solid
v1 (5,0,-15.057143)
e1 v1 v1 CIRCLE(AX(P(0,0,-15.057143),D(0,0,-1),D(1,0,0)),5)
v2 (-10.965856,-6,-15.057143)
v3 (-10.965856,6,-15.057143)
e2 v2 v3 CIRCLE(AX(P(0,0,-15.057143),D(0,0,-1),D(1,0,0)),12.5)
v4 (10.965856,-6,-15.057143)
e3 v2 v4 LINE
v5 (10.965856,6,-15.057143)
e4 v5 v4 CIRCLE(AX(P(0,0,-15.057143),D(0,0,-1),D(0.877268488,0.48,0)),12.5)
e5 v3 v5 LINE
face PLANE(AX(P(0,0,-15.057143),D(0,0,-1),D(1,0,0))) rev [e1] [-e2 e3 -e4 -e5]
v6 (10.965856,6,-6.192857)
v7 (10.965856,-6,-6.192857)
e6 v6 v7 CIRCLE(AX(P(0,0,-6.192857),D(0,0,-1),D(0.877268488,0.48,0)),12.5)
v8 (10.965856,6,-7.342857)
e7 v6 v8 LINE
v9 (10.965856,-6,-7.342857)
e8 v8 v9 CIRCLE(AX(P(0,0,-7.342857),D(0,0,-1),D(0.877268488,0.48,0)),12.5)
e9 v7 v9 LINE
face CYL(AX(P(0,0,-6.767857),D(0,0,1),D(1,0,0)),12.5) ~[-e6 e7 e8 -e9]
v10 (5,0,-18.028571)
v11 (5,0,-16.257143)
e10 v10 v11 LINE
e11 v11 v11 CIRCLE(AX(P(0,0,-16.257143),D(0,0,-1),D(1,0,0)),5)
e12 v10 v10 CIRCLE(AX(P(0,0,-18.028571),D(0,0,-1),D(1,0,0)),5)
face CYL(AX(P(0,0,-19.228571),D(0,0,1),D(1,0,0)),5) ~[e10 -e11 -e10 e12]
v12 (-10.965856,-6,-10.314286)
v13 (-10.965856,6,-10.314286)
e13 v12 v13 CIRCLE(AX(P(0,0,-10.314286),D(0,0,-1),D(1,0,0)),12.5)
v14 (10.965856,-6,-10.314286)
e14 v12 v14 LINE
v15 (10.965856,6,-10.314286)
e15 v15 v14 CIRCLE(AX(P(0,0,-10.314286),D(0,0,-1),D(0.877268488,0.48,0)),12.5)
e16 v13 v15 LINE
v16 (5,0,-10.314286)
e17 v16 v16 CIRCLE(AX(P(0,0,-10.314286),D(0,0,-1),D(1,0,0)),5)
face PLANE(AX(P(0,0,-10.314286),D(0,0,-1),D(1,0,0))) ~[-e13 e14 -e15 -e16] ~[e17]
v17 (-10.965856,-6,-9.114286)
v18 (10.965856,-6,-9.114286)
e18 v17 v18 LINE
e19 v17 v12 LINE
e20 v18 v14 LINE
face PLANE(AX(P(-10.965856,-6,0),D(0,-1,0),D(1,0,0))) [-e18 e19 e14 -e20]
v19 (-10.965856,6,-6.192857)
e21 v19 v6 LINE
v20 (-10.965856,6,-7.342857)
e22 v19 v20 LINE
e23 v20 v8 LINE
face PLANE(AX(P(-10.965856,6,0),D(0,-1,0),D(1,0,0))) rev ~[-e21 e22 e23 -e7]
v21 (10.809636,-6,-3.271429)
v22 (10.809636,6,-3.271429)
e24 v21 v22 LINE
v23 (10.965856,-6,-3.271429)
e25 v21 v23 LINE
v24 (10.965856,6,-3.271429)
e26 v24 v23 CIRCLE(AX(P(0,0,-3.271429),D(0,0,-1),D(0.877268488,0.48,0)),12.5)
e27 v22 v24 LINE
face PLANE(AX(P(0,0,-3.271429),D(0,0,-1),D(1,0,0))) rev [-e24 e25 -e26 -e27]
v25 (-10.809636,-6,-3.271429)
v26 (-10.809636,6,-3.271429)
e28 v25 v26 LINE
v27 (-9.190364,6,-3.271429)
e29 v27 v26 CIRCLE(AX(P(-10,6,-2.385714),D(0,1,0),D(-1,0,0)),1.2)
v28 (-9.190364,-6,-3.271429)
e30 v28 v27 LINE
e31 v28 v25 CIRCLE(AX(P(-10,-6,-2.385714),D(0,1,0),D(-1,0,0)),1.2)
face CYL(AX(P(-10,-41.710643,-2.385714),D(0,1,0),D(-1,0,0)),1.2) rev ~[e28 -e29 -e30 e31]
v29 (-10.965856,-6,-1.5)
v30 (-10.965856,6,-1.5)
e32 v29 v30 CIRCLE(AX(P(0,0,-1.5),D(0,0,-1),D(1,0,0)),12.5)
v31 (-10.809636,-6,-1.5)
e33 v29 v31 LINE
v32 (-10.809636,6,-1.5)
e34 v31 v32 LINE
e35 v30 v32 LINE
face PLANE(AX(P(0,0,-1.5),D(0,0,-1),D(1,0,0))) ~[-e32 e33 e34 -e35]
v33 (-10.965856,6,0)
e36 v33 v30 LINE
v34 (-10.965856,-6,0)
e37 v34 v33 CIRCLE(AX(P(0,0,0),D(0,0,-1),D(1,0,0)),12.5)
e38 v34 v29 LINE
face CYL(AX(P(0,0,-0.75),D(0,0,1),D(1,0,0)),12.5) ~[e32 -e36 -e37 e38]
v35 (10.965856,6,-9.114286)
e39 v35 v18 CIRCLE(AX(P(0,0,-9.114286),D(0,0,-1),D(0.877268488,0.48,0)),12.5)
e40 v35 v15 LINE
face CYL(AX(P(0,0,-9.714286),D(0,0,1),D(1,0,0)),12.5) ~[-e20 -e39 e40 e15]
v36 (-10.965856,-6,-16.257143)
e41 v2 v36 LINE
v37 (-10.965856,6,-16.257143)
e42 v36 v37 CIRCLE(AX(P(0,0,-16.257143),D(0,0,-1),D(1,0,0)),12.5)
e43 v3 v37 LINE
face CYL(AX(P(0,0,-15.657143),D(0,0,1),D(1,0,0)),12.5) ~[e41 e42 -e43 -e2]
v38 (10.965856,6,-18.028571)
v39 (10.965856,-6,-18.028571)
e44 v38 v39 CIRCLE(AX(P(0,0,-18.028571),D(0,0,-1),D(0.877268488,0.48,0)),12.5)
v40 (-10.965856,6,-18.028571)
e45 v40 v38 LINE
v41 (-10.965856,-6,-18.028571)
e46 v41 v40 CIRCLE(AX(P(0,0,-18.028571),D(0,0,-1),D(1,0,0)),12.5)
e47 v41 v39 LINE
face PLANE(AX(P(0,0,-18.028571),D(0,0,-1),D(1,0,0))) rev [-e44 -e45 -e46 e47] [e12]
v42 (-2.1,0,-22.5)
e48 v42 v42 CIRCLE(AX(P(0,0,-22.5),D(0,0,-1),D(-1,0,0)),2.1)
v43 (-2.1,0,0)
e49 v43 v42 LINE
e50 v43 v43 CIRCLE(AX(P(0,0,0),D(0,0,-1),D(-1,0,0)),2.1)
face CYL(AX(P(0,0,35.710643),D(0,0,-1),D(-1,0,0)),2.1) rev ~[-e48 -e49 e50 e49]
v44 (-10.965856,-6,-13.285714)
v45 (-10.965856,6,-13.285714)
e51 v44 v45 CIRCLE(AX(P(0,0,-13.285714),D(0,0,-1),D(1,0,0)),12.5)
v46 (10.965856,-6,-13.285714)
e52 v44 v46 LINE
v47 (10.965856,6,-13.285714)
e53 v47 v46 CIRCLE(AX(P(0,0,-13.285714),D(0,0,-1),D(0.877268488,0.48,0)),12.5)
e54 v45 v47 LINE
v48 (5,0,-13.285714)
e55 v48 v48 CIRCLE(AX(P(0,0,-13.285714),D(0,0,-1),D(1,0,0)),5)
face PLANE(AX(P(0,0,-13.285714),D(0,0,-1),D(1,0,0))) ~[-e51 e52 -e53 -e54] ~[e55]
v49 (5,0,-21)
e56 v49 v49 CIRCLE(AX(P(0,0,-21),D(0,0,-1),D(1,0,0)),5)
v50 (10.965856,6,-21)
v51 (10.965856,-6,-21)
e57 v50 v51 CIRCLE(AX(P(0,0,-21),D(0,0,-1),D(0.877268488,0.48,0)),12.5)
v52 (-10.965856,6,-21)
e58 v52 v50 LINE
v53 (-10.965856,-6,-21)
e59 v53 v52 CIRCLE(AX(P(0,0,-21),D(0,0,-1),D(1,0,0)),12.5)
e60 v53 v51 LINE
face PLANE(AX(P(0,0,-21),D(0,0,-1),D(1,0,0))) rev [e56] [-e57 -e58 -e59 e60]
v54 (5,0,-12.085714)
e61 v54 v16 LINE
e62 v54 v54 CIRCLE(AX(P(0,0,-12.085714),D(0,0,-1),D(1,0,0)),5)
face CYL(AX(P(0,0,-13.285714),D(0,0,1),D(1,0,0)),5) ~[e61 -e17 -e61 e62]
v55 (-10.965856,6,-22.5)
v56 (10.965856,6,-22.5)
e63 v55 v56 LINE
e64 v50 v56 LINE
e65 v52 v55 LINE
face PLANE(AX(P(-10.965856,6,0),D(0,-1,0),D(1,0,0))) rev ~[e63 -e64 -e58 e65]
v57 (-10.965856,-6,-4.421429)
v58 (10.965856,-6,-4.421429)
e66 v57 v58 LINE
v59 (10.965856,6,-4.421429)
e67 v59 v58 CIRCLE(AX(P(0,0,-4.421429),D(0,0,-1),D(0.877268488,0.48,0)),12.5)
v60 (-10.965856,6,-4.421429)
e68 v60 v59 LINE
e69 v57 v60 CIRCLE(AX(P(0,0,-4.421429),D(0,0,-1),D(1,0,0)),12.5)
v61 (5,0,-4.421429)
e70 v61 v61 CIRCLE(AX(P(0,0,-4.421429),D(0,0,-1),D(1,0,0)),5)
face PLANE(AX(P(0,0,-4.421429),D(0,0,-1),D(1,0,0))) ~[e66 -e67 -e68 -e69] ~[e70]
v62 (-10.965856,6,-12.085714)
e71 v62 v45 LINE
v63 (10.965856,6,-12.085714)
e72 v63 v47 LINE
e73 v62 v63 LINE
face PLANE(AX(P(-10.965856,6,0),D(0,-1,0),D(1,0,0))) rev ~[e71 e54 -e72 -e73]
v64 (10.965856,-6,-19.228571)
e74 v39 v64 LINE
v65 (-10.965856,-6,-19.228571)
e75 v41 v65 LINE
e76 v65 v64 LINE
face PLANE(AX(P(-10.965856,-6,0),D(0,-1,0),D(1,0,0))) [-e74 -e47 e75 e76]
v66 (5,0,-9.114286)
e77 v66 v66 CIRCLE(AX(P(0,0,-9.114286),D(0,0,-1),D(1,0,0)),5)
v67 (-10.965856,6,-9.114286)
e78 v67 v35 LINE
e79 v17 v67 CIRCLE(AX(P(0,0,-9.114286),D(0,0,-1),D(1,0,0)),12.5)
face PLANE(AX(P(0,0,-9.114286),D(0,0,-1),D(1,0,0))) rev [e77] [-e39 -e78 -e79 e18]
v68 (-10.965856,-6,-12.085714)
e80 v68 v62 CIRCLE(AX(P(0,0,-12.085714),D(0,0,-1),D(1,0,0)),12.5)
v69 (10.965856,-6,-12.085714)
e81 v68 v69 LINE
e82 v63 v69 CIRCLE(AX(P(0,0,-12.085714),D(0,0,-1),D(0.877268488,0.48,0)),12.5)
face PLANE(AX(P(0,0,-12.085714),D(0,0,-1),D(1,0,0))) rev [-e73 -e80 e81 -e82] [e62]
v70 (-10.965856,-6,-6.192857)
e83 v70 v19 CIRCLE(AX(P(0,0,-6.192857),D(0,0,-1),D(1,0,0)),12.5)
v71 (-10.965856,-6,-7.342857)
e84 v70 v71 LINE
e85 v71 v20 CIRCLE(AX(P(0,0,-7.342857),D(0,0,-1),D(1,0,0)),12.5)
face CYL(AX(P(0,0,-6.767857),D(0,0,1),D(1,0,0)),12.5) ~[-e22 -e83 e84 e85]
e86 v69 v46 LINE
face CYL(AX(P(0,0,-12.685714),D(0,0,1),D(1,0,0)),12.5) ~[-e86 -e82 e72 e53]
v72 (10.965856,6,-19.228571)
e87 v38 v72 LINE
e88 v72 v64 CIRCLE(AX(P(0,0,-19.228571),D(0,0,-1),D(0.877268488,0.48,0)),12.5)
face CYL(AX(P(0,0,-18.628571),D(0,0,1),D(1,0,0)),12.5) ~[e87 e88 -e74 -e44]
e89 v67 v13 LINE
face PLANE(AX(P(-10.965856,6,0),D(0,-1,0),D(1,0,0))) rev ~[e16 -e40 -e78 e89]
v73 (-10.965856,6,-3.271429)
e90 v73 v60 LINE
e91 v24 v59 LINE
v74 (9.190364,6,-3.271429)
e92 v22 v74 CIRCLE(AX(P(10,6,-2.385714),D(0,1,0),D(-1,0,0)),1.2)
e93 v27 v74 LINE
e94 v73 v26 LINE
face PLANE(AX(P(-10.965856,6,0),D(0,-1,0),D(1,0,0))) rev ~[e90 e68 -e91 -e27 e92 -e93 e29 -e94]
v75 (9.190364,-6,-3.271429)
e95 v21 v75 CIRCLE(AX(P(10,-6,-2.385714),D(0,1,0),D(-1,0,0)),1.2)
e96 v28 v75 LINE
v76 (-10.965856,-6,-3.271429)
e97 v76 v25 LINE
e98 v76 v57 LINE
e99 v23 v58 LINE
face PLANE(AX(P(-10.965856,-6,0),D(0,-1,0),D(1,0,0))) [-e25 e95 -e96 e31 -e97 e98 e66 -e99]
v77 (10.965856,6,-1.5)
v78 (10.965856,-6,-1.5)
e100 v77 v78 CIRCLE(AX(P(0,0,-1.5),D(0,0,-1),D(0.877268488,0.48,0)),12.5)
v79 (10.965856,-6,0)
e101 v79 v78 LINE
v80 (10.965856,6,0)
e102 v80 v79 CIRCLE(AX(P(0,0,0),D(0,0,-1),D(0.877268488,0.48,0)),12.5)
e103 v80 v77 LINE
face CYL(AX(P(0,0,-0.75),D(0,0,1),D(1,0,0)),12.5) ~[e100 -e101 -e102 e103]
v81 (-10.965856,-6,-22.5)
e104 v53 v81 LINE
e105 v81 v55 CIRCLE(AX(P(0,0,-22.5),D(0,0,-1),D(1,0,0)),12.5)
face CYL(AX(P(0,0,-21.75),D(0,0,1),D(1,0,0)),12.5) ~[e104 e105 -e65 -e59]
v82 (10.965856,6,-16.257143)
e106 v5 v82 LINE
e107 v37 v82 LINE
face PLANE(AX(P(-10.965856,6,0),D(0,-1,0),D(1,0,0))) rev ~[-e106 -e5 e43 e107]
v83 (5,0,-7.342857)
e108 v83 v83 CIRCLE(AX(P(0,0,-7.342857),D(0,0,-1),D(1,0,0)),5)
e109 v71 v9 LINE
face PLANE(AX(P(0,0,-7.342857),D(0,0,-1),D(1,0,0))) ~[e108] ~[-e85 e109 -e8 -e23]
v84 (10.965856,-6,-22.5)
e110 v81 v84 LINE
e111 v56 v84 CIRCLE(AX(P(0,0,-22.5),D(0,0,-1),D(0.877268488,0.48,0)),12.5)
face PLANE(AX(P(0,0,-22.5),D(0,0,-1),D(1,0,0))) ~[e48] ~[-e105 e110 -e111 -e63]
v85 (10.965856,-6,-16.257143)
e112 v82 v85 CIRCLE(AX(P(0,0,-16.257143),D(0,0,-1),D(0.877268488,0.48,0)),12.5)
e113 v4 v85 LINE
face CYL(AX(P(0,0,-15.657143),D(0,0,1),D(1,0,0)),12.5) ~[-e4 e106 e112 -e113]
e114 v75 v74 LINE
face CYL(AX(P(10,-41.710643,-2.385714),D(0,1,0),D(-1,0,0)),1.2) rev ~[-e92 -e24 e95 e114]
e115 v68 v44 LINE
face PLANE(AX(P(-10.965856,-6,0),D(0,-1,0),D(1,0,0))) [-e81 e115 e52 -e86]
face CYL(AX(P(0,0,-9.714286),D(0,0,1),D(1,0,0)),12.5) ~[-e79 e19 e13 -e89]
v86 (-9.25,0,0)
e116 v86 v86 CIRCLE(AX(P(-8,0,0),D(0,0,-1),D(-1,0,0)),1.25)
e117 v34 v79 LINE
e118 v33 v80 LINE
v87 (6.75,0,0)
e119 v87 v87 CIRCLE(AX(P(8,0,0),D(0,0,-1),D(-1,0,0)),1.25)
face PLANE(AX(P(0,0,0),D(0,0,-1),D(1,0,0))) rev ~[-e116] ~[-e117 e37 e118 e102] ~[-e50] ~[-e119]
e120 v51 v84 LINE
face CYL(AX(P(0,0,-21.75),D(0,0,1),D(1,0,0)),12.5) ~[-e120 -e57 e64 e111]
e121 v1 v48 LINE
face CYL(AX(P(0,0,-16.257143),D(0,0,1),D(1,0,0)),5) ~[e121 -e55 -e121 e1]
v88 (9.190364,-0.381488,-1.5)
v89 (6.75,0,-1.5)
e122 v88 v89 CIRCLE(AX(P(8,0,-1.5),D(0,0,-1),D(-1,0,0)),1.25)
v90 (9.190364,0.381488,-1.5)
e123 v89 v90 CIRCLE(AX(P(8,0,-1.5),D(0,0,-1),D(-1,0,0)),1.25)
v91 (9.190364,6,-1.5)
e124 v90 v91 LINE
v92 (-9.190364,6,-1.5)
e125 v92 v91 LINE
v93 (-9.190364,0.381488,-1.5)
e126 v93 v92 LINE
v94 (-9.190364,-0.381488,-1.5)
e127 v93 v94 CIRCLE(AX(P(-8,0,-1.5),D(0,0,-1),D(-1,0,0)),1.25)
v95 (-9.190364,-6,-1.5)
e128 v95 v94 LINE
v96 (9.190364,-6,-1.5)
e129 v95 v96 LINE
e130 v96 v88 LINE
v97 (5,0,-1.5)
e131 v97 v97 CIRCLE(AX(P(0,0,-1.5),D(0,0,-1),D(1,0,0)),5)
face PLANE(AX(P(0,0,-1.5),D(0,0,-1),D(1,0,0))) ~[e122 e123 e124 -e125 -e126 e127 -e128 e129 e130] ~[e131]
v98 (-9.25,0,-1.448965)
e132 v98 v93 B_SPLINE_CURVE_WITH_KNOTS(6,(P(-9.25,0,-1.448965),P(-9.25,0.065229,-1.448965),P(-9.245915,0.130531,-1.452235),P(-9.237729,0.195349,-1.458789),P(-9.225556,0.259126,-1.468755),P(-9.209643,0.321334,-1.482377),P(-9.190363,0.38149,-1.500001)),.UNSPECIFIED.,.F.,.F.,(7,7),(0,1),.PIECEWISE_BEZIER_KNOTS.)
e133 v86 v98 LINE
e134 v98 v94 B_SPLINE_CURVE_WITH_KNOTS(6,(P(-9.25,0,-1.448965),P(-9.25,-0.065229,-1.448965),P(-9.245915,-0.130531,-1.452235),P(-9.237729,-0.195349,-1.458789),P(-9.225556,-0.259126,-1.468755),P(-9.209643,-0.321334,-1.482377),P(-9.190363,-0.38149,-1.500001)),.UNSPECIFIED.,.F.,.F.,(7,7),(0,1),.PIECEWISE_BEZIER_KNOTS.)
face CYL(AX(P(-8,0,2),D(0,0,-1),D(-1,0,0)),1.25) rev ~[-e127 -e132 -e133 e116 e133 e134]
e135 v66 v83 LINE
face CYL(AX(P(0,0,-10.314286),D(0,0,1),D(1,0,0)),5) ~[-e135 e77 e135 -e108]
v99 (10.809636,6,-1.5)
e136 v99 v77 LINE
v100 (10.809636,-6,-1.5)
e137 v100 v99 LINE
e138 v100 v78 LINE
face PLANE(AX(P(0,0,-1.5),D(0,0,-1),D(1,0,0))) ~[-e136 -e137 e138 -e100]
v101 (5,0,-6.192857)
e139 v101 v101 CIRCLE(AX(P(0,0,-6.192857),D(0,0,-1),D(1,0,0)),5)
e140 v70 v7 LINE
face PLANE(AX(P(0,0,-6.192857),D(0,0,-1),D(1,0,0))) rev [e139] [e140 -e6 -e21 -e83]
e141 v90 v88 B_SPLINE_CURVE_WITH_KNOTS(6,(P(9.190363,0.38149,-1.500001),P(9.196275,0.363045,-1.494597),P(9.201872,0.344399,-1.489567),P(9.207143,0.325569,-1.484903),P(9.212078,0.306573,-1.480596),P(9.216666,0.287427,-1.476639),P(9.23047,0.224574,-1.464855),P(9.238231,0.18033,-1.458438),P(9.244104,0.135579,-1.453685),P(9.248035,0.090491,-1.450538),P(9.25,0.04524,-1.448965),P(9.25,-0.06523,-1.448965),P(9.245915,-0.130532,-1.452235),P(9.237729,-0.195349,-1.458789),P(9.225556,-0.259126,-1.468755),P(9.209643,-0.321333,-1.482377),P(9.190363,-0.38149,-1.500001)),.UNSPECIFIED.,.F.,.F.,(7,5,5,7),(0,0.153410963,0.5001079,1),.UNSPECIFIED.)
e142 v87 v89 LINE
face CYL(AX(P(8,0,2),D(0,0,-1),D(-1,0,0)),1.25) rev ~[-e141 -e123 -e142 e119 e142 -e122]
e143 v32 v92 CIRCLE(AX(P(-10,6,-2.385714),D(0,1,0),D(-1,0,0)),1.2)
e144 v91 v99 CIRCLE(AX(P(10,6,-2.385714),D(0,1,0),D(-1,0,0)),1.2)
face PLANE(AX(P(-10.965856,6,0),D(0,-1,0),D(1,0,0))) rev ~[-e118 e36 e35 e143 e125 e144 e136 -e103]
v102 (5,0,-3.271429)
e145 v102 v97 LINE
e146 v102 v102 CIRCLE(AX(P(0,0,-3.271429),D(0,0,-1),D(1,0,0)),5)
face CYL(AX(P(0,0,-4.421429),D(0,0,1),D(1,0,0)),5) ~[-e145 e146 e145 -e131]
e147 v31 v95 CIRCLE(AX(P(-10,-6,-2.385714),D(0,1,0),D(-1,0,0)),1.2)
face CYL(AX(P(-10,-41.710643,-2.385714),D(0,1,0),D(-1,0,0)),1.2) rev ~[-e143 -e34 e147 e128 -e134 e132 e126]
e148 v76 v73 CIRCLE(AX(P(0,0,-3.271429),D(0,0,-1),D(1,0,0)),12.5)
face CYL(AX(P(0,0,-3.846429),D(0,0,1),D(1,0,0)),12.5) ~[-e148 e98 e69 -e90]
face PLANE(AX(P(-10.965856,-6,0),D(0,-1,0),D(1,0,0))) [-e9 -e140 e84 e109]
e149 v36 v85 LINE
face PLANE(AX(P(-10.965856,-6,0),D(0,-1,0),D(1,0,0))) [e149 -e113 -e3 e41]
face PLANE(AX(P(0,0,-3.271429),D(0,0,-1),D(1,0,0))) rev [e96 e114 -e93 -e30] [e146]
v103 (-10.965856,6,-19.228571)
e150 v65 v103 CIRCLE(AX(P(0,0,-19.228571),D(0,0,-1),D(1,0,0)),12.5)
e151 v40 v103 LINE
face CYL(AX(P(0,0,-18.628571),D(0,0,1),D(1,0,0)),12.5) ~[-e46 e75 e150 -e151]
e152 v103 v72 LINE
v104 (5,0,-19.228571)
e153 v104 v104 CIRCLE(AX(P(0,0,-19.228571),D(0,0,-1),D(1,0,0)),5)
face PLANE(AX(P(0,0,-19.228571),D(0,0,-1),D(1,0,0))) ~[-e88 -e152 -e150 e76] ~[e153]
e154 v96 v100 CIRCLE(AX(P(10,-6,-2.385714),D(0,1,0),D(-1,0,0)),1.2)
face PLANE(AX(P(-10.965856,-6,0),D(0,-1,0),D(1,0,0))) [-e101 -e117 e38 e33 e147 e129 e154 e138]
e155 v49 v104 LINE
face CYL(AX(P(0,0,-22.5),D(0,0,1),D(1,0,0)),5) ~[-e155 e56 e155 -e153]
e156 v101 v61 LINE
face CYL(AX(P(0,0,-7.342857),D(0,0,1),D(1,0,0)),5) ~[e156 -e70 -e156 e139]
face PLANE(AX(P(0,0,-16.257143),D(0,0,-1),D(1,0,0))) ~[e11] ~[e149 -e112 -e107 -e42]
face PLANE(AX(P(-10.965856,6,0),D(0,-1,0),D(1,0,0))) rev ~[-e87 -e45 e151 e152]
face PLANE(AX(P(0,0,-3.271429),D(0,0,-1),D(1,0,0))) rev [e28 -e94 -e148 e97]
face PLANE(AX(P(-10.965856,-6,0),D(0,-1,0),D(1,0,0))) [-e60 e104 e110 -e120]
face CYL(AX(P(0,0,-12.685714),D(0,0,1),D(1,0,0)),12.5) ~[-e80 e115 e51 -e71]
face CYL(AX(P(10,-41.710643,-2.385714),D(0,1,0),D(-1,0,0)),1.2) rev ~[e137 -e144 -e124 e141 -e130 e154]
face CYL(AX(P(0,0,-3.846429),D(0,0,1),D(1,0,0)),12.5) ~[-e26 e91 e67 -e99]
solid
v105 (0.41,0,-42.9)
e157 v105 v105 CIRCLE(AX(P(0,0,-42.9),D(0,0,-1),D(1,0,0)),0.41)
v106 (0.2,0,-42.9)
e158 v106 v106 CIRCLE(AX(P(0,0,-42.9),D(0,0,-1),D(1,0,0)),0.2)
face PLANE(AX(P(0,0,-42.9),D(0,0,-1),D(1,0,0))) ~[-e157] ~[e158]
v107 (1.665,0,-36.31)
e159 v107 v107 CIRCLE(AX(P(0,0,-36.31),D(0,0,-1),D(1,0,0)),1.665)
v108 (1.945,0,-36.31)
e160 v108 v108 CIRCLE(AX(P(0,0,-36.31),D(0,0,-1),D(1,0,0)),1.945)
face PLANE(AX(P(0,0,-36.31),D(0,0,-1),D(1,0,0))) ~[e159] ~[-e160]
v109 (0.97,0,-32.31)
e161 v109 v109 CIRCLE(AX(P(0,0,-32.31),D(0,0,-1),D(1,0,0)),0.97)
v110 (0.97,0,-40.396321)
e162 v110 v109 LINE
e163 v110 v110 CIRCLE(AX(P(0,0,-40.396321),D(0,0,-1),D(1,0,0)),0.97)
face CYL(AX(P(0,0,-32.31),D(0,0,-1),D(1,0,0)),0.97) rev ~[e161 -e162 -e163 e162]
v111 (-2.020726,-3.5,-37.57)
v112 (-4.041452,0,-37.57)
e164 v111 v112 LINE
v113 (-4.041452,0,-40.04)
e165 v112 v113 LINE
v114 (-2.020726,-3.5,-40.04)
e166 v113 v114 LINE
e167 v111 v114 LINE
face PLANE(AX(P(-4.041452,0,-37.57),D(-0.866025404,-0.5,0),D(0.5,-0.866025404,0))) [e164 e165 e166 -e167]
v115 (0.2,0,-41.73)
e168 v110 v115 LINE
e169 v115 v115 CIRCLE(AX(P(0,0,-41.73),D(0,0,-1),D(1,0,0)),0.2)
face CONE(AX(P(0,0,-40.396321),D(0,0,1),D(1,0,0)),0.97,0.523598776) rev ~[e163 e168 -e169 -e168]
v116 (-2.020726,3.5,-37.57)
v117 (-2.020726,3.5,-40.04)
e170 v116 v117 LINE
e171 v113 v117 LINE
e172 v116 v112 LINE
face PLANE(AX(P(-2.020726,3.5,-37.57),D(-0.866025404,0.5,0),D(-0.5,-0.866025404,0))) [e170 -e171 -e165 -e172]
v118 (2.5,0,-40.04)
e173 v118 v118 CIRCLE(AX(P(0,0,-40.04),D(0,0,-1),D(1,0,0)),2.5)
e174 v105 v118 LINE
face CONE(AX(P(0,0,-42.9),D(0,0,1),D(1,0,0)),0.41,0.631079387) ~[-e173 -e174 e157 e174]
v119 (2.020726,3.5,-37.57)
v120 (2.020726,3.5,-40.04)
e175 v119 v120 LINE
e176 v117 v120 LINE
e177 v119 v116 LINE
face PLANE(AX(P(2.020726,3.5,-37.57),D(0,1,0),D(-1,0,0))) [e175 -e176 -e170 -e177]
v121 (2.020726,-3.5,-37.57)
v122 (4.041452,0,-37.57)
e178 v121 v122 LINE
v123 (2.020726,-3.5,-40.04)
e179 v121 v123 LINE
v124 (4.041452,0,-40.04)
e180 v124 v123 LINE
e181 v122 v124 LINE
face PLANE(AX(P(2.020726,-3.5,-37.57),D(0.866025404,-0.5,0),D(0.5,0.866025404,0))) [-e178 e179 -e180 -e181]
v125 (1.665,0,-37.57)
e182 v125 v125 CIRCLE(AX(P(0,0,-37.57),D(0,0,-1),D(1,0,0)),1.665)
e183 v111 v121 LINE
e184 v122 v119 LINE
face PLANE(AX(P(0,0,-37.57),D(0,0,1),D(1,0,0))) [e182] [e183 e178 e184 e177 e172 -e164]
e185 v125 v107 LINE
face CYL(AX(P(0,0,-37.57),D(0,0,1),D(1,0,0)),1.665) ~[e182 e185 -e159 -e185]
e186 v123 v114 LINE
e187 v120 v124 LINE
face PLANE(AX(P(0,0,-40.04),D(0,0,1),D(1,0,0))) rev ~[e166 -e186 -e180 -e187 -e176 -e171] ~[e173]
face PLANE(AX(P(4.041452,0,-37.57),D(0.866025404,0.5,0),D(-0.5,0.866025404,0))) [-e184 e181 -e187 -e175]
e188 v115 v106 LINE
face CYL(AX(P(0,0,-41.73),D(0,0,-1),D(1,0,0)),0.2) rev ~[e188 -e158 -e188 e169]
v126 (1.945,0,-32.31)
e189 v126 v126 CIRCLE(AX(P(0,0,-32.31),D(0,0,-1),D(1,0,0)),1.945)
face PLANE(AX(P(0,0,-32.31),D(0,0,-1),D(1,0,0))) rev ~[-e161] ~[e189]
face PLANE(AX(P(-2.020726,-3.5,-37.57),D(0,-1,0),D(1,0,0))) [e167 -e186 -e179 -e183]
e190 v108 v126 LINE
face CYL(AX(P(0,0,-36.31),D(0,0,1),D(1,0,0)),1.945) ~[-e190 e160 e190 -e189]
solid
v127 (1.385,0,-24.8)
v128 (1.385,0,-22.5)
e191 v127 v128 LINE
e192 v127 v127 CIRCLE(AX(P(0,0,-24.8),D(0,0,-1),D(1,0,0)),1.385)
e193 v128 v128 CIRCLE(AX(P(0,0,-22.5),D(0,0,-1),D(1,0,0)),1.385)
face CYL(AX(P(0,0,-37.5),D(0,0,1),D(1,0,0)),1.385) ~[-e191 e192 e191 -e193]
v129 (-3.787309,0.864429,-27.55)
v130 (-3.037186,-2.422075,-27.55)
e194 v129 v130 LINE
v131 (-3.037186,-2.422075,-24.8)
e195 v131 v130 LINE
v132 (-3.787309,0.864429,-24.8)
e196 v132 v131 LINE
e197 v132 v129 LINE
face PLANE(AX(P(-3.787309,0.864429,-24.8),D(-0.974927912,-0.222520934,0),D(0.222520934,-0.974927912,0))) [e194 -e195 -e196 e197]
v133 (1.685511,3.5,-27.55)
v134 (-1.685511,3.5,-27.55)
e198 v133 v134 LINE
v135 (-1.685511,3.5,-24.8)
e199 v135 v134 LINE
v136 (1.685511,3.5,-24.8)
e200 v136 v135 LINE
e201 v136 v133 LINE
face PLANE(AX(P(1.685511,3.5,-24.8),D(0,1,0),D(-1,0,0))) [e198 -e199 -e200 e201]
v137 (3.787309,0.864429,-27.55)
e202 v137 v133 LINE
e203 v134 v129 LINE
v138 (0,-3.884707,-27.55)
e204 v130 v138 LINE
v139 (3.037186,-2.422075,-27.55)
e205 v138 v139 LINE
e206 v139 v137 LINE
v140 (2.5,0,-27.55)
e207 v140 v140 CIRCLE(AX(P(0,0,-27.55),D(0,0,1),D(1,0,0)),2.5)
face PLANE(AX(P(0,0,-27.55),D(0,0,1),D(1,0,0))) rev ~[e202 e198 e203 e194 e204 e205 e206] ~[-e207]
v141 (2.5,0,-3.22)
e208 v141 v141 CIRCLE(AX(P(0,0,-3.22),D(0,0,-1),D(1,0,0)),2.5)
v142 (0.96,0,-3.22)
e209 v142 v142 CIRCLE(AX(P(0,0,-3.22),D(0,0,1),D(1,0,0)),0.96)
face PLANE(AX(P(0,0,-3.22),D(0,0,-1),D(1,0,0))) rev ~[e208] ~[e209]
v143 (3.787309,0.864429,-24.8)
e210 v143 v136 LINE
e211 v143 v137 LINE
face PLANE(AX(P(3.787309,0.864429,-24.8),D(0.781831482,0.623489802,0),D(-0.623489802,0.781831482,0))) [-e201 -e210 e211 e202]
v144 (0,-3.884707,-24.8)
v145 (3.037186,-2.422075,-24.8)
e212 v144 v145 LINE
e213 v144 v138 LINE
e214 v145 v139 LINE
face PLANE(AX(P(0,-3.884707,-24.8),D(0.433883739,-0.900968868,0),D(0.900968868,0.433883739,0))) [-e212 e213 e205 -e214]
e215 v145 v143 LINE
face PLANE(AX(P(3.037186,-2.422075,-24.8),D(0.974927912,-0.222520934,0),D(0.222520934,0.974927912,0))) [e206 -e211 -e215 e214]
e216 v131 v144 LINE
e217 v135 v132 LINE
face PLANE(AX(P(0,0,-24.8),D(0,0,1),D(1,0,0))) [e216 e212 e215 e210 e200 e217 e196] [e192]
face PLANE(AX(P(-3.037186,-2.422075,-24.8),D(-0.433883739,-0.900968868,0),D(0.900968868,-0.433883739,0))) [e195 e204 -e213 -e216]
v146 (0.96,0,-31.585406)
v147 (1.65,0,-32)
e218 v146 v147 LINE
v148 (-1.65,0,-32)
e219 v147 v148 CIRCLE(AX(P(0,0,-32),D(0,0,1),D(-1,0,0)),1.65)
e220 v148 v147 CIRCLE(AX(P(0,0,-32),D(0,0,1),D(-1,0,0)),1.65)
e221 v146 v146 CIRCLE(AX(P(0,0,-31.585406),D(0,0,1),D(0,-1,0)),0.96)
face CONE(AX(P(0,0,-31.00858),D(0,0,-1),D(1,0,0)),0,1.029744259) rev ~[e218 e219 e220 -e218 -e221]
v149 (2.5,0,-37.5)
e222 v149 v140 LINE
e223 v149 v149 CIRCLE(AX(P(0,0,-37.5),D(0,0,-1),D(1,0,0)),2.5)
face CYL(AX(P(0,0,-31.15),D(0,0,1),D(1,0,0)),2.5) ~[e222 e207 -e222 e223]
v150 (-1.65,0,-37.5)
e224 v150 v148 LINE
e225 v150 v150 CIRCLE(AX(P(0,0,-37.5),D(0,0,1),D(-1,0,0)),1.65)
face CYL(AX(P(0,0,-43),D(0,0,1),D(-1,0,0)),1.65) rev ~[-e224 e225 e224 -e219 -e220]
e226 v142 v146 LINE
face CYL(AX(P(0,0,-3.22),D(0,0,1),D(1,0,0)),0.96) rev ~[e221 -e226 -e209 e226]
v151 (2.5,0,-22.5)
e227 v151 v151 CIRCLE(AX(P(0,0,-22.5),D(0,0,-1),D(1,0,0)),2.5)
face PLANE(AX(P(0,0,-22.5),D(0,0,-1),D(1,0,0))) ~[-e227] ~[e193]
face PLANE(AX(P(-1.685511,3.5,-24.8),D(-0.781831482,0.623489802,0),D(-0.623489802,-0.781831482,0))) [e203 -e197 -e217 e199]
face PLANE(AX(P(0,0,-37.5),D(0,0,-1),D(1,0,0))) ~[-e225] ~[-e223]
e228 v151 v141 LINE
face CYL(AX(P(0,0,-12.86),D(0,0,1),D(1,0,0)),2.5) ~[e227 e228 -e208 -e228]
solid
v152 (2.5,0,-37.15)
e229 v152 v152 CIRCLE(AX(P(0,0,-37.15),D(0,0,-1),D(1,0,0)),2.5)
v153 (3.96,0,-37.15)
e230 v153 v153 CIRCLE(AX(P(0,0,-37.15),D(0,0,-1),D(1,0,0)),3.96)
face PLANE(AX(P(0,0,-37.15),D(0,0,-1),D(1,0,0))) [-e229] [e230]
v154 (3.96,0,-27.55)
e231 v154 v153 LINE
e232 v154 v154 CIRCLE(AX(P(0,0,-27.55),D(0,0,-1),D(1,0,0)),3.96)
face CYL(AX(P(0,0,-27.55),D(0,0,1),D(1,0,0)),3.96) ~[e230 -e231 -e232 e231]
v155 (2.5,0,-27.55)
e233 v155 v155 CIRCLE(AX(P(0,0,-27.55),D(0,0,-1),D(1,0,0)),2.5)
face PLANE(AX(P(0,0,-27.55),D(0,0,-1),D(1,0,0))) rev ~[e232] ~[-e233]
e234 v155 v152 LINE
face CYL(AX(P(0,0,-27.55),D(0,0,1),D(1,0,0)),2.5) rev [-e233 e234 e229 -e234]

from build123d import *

# Parameters (mm, degrees)
F0_W      = 5
F0_H      = 1.5
F0_W_2    = 7.5
F0_H_2    = 1.7714285714
F0_H_3    = 1.15
F0_H_4    = 1.2
F2_W      = 21.9317121995
F2_H      = 6.5
F3_DEPTH  = 22.501
F5_D      = 4.2
F6_D      = 2.5
F6_DEPTH  = 2
F6_TIP    = 0.7510757738
F7_W      = 1.385
F7_H      = 19.28
F7_W_2    = 1.115
F7_H_2    = 2.3
F7_H_3    = 12.7
F10_DEPTH = 2.75
F12_D     = 3.3
F12_DEPTH = 5.5
F12_TIP   = 0.9914200214
F13_R     = 0.96
F14_DEPTH = 34.281
F15_R     = 3.96
F15_R_2   = 2.5
F16_DEPTH = 9.6
F19_R     = 0.97
F20_DEPTH = 2.47
F24_R     = 2.7289614246
F25_DEPTH = 4.22
F27_D     = 2.4


with BuildPart() as f1:
    # F0 (on Front) → F1 (revolve)
    with BuildSketch(Plane.XZ):
        with Locations((2.5, -0.75)):
            Rectangle(F0_W, F0_H)
        with Locations((8.75, -0.75)):
            Rectangle(F0_W_2, F0_H)
        with Locations((2.5, -2.3857142857)):
            Rectangle(F0_W, F0_H_2)
        with Locations((2.5, -3.8464285714)):
            Rectangle(F0_W, F0_H_3)
        with Locations((8.75, -3.8464285714)):
            Rectangle(F0_W_2, F0_H_3)
        with Locations((2.5, -5.3071428571)):
            Rectangle(F0_W, F0_H_2)
        with Locations((2.5, -6.7678571429)):
            Rectangle(F0_W, F0_H_3)
        with Locations((8.75, -6.7678571429)):
            Rectangle(F0_W_2, F0_H_3)
        with Locations((2.5, -8.2285714286)):
            Rectangle(F0_W, F0_H_2)
        with Locations((2.5, -9.7142857143)):
            Rectangle(F0_W, F0_H_4)
        with Locations((8.75, -9.7142857143)):
            Rectangle(F0_W_2, F0_H_4)
        with Locations((2.5, -11.2)):
            Rectangle(F0_W, F0_H_2)
        with Locations((2.5, -12.6857142857)):
            Rectangle(F0_W, F0_H_4)
        with Locations((8.75, -12.6857142857)):
            Rectangle(F0_W_2, F0_H_4)
        with Locations((2.5, -14.1714285714)):
            Rectangle(F0_W, F0_H_2)
        with Locations((2.5, -15.6571428571)):
            Rectangle(F0_W, F0_H_4)
        with Locations((8.75, -15.6571428571)):
            Rectangle(F0_W_2, F0_H_4)
        with Locations((2.5, -17.1428571429)):
            Rectangle(F0_W, F0_H_2)
        with Locations((2.5, -18.6285714286)):
            Rectangle(F0_W, F0_H_4)
        with Locations((8.75, -18.6285714286)):
            Rectangle(F0_W_2, F0_H_4)
        with Locations((2.5, -20.1142857143)):
            Rectangle(F0_W, F0_H_2)
        with Locations((2.5, -21.75)):
            Rectangle(F0_W, F0_H)
        with Locations((8.75, -21.75)):
            Rectangle(F0_W_2, F0_H)
    revolve(axis=Axis((0, 0, -15.0359268821), (0, 0, -1)))

    # F2 (on Top) → F3 (cut, through all)
    with BuildSketch(Plane.XY):
        with Locations((0, -9.25)):
            Rectangle(F2_W, F2_H)
        with Locations((0, 9.25)):
            Rectangle(F2_W, F2_H)
    extrude(amount=-F3_DEPTH, mode=Mode.SUBTRACT)

    # F5 (through all)
    with Locations(Plane.XY):
        with Locations((0, 0)):
            Hole(F5_D / 2)

    # F6
    with Locations(Plane.XY):
        with Locations((-8, 0), (8, 0)):
            Hole(F6_D / 2, depth=F6_DEPTH)
            with Locations((0, 0, -(F6_DEPTH + F6_TIP / 2))):  # 118° drill point
                Cone(0, F6_D / 2, F6_TIP, mode=Mode.SUBTRACT)

    # F27 (through all)
    with Locations(Plane.XZ.offset(6)):
        with Locations((-10, -2.3857142857), (10, -2.3857142857)):
            Hole(F27_D / 2)


with BuildPart() as f8:
    # F7 (on Front) → F8 (revolve)
    with BuildSketch(Plane.XZ):
        with Locations((0.6925, -12.86)):
            Rectangle(F7_W, F7_H)
        with Locations((1.9425, -12.86)):
            Rectangle(F7_W_2, F7_H)
        with Locations((0.6925, -23.65)):
            Rectangle(F7_W, F7_H_2)
        with Locations((0.6925, -31.15)):
            Rectangle(F7_W, F7_H_3)
        with Locations((1.9425, -31.15)):
            Rectangle(F7_W_2, F7_H_3)
    revolve(axis=Axis((0, 0, -14.0211293474), (0, 0, -1)))

    # F9 (on face) → F10 (join)
    with BuildSketch(Plane.XY.offset(-24.8)):
        Polygon((3.7873092114, 0.864428613), (1.6855111658, 3.5), (-1.6855111658, 3.5), (-3.7873092114, 0.864428613), (-3.0371861738, -2.4220751507), (0, -3.8847069246), (3.0371861738, -2.4220751507), align=None)
    extrude(amount=-F10_DEPTH)

    # F12
    with Locations(Plane(origin=(0, 0, -37.5), x_dir=(1, 0, 0), z_dir=(0, 0, -1))):
        with Locations((0, 0)):
            Hole(F12_D / 2, depth=F12_DEPTH)
            with Locations((0, 0, -(F12_DEPTH + F12_TIP / 2))):  # 118° drill point
                Cone(0, F12_D / 2, F12_TIP, mode=Mode.SUBTRACT)

    # F13 (on face) → F14 (cut, through all)
    with BuildSketch(Plane.XY.offset(-3.22)):
        Circle(F13_R)
    extrude(amount=-F14_DEPTH, mode=Mode.SUBTRACT)


with BuildPart() as f16:
    # F15 (on face) → F16 (new body)
    with BuildSketch(Plane(origin=(0, 0, -27.55), x_dir=(1, 0, 0), z_dir=(0, 0, -1))):
        Circle(F15_R)
        Circle(F15_R_2, mode=Mode.SUBTRACT)
    extrude(amount=F16_DEPTH)


with BuildPart() as f18:
    # F17 (on Front) → F18 (revolve)
    with BuildSketch(Plane.XZ):
        Polygon((1.945, -32.31), (0.97, -32.31), (0.97, -40.3963208782), (0.2, -41.73), (0.2, -42.9), (0.41, -42.9), (2.5, -40.04), (3.5, -40.04), (3.5, -37.57), (1.665, -37.57), (1.665, -36.31), (1.945, -36.31), align=None)
    revolve(axis=Axis((0, 0, -20.0307343887), (0, 0, -1)))

    # F19 (on face) → F20 (join, through all)
    with BuildSketch(Plane.XY.offset(-37.57)):
        Polygon((-4.0414518843, 0), (-2.0207259422, -3.5), (2.0207259422, -3.5), (4.0414518843, 0), (2.0207259422, 3.5), (-2.0207259422, 3.5), align=None)
        Circle(F19_R, mode=Mode.SUBTRACT)
    extrude(amount=-F20_DEPTH)


with BuildPart() as f22:
    # F21 (on Front) → F22 (revolve)
    with BuildSketch(Plane.XZ):
        Polygon((3.88, 11.3), (2.7289614246, 11.3), (2.7289614246, 1.8), (1.055, 1.8), (1.055, -3.2), (2.455, -3.2), (2.455, -0.05), (2.11, -0.05), (2.11, 0.8), (3.88, 0.8), align=None)
    revolve(axis=Axis((0, 0, -6.213388286), (0, 0, -1)))

    # F24 (on offset) → F25 (join)
    with BuildSketch(Plane(origin=(0, 0, 6.3), x_dir=(1, 0, 0), z_dir=(0, 0, -1))):
        Polygon((-4.5899346401, 0), (-2.29496732, -3.975), (2.29496732, -3.975), (4.5899346401, 0), (2.29496732, 3.975), (-2.29496732, 3.975), align=None)
        Circle(F24_R, mode=Mode.SUBTRACT)
    extrude(amount=F25_DEPTH)


with BuildPart() as f29:
    # F28 (on Front) → F29 (revolve)
    with BuildSketch(Plane.XZ):
        with BuildLine():
            Line((3.88, 11.3), (3.88, 12.3))
            Line((3.88, 12.3), (2.475, 12.3))
            Line((2.475, 12.3), (2.475, 13.2))
            Line((2.475, 13.2), (3.88, 13.2))
            Line((3.88, 13.2), (3.88, 14.2))
            ThreePointArc((3.88, 14.2), (3.7335533906, 14.5535533906), (3.38, 14.7))
            Line((3.38, 14.7), (2.095, 14.7))
            Line((2.095, 14.7), (2.095, 11.3))
            Line((2.095, 11.3), (3.88, 11.3))
        make_face()
    revolve(axis=Axis((0, 0, -6.213388286), (0, 0, -1)))


solid = Compound([f1.part, f8.part, f16.part, f18.part])
